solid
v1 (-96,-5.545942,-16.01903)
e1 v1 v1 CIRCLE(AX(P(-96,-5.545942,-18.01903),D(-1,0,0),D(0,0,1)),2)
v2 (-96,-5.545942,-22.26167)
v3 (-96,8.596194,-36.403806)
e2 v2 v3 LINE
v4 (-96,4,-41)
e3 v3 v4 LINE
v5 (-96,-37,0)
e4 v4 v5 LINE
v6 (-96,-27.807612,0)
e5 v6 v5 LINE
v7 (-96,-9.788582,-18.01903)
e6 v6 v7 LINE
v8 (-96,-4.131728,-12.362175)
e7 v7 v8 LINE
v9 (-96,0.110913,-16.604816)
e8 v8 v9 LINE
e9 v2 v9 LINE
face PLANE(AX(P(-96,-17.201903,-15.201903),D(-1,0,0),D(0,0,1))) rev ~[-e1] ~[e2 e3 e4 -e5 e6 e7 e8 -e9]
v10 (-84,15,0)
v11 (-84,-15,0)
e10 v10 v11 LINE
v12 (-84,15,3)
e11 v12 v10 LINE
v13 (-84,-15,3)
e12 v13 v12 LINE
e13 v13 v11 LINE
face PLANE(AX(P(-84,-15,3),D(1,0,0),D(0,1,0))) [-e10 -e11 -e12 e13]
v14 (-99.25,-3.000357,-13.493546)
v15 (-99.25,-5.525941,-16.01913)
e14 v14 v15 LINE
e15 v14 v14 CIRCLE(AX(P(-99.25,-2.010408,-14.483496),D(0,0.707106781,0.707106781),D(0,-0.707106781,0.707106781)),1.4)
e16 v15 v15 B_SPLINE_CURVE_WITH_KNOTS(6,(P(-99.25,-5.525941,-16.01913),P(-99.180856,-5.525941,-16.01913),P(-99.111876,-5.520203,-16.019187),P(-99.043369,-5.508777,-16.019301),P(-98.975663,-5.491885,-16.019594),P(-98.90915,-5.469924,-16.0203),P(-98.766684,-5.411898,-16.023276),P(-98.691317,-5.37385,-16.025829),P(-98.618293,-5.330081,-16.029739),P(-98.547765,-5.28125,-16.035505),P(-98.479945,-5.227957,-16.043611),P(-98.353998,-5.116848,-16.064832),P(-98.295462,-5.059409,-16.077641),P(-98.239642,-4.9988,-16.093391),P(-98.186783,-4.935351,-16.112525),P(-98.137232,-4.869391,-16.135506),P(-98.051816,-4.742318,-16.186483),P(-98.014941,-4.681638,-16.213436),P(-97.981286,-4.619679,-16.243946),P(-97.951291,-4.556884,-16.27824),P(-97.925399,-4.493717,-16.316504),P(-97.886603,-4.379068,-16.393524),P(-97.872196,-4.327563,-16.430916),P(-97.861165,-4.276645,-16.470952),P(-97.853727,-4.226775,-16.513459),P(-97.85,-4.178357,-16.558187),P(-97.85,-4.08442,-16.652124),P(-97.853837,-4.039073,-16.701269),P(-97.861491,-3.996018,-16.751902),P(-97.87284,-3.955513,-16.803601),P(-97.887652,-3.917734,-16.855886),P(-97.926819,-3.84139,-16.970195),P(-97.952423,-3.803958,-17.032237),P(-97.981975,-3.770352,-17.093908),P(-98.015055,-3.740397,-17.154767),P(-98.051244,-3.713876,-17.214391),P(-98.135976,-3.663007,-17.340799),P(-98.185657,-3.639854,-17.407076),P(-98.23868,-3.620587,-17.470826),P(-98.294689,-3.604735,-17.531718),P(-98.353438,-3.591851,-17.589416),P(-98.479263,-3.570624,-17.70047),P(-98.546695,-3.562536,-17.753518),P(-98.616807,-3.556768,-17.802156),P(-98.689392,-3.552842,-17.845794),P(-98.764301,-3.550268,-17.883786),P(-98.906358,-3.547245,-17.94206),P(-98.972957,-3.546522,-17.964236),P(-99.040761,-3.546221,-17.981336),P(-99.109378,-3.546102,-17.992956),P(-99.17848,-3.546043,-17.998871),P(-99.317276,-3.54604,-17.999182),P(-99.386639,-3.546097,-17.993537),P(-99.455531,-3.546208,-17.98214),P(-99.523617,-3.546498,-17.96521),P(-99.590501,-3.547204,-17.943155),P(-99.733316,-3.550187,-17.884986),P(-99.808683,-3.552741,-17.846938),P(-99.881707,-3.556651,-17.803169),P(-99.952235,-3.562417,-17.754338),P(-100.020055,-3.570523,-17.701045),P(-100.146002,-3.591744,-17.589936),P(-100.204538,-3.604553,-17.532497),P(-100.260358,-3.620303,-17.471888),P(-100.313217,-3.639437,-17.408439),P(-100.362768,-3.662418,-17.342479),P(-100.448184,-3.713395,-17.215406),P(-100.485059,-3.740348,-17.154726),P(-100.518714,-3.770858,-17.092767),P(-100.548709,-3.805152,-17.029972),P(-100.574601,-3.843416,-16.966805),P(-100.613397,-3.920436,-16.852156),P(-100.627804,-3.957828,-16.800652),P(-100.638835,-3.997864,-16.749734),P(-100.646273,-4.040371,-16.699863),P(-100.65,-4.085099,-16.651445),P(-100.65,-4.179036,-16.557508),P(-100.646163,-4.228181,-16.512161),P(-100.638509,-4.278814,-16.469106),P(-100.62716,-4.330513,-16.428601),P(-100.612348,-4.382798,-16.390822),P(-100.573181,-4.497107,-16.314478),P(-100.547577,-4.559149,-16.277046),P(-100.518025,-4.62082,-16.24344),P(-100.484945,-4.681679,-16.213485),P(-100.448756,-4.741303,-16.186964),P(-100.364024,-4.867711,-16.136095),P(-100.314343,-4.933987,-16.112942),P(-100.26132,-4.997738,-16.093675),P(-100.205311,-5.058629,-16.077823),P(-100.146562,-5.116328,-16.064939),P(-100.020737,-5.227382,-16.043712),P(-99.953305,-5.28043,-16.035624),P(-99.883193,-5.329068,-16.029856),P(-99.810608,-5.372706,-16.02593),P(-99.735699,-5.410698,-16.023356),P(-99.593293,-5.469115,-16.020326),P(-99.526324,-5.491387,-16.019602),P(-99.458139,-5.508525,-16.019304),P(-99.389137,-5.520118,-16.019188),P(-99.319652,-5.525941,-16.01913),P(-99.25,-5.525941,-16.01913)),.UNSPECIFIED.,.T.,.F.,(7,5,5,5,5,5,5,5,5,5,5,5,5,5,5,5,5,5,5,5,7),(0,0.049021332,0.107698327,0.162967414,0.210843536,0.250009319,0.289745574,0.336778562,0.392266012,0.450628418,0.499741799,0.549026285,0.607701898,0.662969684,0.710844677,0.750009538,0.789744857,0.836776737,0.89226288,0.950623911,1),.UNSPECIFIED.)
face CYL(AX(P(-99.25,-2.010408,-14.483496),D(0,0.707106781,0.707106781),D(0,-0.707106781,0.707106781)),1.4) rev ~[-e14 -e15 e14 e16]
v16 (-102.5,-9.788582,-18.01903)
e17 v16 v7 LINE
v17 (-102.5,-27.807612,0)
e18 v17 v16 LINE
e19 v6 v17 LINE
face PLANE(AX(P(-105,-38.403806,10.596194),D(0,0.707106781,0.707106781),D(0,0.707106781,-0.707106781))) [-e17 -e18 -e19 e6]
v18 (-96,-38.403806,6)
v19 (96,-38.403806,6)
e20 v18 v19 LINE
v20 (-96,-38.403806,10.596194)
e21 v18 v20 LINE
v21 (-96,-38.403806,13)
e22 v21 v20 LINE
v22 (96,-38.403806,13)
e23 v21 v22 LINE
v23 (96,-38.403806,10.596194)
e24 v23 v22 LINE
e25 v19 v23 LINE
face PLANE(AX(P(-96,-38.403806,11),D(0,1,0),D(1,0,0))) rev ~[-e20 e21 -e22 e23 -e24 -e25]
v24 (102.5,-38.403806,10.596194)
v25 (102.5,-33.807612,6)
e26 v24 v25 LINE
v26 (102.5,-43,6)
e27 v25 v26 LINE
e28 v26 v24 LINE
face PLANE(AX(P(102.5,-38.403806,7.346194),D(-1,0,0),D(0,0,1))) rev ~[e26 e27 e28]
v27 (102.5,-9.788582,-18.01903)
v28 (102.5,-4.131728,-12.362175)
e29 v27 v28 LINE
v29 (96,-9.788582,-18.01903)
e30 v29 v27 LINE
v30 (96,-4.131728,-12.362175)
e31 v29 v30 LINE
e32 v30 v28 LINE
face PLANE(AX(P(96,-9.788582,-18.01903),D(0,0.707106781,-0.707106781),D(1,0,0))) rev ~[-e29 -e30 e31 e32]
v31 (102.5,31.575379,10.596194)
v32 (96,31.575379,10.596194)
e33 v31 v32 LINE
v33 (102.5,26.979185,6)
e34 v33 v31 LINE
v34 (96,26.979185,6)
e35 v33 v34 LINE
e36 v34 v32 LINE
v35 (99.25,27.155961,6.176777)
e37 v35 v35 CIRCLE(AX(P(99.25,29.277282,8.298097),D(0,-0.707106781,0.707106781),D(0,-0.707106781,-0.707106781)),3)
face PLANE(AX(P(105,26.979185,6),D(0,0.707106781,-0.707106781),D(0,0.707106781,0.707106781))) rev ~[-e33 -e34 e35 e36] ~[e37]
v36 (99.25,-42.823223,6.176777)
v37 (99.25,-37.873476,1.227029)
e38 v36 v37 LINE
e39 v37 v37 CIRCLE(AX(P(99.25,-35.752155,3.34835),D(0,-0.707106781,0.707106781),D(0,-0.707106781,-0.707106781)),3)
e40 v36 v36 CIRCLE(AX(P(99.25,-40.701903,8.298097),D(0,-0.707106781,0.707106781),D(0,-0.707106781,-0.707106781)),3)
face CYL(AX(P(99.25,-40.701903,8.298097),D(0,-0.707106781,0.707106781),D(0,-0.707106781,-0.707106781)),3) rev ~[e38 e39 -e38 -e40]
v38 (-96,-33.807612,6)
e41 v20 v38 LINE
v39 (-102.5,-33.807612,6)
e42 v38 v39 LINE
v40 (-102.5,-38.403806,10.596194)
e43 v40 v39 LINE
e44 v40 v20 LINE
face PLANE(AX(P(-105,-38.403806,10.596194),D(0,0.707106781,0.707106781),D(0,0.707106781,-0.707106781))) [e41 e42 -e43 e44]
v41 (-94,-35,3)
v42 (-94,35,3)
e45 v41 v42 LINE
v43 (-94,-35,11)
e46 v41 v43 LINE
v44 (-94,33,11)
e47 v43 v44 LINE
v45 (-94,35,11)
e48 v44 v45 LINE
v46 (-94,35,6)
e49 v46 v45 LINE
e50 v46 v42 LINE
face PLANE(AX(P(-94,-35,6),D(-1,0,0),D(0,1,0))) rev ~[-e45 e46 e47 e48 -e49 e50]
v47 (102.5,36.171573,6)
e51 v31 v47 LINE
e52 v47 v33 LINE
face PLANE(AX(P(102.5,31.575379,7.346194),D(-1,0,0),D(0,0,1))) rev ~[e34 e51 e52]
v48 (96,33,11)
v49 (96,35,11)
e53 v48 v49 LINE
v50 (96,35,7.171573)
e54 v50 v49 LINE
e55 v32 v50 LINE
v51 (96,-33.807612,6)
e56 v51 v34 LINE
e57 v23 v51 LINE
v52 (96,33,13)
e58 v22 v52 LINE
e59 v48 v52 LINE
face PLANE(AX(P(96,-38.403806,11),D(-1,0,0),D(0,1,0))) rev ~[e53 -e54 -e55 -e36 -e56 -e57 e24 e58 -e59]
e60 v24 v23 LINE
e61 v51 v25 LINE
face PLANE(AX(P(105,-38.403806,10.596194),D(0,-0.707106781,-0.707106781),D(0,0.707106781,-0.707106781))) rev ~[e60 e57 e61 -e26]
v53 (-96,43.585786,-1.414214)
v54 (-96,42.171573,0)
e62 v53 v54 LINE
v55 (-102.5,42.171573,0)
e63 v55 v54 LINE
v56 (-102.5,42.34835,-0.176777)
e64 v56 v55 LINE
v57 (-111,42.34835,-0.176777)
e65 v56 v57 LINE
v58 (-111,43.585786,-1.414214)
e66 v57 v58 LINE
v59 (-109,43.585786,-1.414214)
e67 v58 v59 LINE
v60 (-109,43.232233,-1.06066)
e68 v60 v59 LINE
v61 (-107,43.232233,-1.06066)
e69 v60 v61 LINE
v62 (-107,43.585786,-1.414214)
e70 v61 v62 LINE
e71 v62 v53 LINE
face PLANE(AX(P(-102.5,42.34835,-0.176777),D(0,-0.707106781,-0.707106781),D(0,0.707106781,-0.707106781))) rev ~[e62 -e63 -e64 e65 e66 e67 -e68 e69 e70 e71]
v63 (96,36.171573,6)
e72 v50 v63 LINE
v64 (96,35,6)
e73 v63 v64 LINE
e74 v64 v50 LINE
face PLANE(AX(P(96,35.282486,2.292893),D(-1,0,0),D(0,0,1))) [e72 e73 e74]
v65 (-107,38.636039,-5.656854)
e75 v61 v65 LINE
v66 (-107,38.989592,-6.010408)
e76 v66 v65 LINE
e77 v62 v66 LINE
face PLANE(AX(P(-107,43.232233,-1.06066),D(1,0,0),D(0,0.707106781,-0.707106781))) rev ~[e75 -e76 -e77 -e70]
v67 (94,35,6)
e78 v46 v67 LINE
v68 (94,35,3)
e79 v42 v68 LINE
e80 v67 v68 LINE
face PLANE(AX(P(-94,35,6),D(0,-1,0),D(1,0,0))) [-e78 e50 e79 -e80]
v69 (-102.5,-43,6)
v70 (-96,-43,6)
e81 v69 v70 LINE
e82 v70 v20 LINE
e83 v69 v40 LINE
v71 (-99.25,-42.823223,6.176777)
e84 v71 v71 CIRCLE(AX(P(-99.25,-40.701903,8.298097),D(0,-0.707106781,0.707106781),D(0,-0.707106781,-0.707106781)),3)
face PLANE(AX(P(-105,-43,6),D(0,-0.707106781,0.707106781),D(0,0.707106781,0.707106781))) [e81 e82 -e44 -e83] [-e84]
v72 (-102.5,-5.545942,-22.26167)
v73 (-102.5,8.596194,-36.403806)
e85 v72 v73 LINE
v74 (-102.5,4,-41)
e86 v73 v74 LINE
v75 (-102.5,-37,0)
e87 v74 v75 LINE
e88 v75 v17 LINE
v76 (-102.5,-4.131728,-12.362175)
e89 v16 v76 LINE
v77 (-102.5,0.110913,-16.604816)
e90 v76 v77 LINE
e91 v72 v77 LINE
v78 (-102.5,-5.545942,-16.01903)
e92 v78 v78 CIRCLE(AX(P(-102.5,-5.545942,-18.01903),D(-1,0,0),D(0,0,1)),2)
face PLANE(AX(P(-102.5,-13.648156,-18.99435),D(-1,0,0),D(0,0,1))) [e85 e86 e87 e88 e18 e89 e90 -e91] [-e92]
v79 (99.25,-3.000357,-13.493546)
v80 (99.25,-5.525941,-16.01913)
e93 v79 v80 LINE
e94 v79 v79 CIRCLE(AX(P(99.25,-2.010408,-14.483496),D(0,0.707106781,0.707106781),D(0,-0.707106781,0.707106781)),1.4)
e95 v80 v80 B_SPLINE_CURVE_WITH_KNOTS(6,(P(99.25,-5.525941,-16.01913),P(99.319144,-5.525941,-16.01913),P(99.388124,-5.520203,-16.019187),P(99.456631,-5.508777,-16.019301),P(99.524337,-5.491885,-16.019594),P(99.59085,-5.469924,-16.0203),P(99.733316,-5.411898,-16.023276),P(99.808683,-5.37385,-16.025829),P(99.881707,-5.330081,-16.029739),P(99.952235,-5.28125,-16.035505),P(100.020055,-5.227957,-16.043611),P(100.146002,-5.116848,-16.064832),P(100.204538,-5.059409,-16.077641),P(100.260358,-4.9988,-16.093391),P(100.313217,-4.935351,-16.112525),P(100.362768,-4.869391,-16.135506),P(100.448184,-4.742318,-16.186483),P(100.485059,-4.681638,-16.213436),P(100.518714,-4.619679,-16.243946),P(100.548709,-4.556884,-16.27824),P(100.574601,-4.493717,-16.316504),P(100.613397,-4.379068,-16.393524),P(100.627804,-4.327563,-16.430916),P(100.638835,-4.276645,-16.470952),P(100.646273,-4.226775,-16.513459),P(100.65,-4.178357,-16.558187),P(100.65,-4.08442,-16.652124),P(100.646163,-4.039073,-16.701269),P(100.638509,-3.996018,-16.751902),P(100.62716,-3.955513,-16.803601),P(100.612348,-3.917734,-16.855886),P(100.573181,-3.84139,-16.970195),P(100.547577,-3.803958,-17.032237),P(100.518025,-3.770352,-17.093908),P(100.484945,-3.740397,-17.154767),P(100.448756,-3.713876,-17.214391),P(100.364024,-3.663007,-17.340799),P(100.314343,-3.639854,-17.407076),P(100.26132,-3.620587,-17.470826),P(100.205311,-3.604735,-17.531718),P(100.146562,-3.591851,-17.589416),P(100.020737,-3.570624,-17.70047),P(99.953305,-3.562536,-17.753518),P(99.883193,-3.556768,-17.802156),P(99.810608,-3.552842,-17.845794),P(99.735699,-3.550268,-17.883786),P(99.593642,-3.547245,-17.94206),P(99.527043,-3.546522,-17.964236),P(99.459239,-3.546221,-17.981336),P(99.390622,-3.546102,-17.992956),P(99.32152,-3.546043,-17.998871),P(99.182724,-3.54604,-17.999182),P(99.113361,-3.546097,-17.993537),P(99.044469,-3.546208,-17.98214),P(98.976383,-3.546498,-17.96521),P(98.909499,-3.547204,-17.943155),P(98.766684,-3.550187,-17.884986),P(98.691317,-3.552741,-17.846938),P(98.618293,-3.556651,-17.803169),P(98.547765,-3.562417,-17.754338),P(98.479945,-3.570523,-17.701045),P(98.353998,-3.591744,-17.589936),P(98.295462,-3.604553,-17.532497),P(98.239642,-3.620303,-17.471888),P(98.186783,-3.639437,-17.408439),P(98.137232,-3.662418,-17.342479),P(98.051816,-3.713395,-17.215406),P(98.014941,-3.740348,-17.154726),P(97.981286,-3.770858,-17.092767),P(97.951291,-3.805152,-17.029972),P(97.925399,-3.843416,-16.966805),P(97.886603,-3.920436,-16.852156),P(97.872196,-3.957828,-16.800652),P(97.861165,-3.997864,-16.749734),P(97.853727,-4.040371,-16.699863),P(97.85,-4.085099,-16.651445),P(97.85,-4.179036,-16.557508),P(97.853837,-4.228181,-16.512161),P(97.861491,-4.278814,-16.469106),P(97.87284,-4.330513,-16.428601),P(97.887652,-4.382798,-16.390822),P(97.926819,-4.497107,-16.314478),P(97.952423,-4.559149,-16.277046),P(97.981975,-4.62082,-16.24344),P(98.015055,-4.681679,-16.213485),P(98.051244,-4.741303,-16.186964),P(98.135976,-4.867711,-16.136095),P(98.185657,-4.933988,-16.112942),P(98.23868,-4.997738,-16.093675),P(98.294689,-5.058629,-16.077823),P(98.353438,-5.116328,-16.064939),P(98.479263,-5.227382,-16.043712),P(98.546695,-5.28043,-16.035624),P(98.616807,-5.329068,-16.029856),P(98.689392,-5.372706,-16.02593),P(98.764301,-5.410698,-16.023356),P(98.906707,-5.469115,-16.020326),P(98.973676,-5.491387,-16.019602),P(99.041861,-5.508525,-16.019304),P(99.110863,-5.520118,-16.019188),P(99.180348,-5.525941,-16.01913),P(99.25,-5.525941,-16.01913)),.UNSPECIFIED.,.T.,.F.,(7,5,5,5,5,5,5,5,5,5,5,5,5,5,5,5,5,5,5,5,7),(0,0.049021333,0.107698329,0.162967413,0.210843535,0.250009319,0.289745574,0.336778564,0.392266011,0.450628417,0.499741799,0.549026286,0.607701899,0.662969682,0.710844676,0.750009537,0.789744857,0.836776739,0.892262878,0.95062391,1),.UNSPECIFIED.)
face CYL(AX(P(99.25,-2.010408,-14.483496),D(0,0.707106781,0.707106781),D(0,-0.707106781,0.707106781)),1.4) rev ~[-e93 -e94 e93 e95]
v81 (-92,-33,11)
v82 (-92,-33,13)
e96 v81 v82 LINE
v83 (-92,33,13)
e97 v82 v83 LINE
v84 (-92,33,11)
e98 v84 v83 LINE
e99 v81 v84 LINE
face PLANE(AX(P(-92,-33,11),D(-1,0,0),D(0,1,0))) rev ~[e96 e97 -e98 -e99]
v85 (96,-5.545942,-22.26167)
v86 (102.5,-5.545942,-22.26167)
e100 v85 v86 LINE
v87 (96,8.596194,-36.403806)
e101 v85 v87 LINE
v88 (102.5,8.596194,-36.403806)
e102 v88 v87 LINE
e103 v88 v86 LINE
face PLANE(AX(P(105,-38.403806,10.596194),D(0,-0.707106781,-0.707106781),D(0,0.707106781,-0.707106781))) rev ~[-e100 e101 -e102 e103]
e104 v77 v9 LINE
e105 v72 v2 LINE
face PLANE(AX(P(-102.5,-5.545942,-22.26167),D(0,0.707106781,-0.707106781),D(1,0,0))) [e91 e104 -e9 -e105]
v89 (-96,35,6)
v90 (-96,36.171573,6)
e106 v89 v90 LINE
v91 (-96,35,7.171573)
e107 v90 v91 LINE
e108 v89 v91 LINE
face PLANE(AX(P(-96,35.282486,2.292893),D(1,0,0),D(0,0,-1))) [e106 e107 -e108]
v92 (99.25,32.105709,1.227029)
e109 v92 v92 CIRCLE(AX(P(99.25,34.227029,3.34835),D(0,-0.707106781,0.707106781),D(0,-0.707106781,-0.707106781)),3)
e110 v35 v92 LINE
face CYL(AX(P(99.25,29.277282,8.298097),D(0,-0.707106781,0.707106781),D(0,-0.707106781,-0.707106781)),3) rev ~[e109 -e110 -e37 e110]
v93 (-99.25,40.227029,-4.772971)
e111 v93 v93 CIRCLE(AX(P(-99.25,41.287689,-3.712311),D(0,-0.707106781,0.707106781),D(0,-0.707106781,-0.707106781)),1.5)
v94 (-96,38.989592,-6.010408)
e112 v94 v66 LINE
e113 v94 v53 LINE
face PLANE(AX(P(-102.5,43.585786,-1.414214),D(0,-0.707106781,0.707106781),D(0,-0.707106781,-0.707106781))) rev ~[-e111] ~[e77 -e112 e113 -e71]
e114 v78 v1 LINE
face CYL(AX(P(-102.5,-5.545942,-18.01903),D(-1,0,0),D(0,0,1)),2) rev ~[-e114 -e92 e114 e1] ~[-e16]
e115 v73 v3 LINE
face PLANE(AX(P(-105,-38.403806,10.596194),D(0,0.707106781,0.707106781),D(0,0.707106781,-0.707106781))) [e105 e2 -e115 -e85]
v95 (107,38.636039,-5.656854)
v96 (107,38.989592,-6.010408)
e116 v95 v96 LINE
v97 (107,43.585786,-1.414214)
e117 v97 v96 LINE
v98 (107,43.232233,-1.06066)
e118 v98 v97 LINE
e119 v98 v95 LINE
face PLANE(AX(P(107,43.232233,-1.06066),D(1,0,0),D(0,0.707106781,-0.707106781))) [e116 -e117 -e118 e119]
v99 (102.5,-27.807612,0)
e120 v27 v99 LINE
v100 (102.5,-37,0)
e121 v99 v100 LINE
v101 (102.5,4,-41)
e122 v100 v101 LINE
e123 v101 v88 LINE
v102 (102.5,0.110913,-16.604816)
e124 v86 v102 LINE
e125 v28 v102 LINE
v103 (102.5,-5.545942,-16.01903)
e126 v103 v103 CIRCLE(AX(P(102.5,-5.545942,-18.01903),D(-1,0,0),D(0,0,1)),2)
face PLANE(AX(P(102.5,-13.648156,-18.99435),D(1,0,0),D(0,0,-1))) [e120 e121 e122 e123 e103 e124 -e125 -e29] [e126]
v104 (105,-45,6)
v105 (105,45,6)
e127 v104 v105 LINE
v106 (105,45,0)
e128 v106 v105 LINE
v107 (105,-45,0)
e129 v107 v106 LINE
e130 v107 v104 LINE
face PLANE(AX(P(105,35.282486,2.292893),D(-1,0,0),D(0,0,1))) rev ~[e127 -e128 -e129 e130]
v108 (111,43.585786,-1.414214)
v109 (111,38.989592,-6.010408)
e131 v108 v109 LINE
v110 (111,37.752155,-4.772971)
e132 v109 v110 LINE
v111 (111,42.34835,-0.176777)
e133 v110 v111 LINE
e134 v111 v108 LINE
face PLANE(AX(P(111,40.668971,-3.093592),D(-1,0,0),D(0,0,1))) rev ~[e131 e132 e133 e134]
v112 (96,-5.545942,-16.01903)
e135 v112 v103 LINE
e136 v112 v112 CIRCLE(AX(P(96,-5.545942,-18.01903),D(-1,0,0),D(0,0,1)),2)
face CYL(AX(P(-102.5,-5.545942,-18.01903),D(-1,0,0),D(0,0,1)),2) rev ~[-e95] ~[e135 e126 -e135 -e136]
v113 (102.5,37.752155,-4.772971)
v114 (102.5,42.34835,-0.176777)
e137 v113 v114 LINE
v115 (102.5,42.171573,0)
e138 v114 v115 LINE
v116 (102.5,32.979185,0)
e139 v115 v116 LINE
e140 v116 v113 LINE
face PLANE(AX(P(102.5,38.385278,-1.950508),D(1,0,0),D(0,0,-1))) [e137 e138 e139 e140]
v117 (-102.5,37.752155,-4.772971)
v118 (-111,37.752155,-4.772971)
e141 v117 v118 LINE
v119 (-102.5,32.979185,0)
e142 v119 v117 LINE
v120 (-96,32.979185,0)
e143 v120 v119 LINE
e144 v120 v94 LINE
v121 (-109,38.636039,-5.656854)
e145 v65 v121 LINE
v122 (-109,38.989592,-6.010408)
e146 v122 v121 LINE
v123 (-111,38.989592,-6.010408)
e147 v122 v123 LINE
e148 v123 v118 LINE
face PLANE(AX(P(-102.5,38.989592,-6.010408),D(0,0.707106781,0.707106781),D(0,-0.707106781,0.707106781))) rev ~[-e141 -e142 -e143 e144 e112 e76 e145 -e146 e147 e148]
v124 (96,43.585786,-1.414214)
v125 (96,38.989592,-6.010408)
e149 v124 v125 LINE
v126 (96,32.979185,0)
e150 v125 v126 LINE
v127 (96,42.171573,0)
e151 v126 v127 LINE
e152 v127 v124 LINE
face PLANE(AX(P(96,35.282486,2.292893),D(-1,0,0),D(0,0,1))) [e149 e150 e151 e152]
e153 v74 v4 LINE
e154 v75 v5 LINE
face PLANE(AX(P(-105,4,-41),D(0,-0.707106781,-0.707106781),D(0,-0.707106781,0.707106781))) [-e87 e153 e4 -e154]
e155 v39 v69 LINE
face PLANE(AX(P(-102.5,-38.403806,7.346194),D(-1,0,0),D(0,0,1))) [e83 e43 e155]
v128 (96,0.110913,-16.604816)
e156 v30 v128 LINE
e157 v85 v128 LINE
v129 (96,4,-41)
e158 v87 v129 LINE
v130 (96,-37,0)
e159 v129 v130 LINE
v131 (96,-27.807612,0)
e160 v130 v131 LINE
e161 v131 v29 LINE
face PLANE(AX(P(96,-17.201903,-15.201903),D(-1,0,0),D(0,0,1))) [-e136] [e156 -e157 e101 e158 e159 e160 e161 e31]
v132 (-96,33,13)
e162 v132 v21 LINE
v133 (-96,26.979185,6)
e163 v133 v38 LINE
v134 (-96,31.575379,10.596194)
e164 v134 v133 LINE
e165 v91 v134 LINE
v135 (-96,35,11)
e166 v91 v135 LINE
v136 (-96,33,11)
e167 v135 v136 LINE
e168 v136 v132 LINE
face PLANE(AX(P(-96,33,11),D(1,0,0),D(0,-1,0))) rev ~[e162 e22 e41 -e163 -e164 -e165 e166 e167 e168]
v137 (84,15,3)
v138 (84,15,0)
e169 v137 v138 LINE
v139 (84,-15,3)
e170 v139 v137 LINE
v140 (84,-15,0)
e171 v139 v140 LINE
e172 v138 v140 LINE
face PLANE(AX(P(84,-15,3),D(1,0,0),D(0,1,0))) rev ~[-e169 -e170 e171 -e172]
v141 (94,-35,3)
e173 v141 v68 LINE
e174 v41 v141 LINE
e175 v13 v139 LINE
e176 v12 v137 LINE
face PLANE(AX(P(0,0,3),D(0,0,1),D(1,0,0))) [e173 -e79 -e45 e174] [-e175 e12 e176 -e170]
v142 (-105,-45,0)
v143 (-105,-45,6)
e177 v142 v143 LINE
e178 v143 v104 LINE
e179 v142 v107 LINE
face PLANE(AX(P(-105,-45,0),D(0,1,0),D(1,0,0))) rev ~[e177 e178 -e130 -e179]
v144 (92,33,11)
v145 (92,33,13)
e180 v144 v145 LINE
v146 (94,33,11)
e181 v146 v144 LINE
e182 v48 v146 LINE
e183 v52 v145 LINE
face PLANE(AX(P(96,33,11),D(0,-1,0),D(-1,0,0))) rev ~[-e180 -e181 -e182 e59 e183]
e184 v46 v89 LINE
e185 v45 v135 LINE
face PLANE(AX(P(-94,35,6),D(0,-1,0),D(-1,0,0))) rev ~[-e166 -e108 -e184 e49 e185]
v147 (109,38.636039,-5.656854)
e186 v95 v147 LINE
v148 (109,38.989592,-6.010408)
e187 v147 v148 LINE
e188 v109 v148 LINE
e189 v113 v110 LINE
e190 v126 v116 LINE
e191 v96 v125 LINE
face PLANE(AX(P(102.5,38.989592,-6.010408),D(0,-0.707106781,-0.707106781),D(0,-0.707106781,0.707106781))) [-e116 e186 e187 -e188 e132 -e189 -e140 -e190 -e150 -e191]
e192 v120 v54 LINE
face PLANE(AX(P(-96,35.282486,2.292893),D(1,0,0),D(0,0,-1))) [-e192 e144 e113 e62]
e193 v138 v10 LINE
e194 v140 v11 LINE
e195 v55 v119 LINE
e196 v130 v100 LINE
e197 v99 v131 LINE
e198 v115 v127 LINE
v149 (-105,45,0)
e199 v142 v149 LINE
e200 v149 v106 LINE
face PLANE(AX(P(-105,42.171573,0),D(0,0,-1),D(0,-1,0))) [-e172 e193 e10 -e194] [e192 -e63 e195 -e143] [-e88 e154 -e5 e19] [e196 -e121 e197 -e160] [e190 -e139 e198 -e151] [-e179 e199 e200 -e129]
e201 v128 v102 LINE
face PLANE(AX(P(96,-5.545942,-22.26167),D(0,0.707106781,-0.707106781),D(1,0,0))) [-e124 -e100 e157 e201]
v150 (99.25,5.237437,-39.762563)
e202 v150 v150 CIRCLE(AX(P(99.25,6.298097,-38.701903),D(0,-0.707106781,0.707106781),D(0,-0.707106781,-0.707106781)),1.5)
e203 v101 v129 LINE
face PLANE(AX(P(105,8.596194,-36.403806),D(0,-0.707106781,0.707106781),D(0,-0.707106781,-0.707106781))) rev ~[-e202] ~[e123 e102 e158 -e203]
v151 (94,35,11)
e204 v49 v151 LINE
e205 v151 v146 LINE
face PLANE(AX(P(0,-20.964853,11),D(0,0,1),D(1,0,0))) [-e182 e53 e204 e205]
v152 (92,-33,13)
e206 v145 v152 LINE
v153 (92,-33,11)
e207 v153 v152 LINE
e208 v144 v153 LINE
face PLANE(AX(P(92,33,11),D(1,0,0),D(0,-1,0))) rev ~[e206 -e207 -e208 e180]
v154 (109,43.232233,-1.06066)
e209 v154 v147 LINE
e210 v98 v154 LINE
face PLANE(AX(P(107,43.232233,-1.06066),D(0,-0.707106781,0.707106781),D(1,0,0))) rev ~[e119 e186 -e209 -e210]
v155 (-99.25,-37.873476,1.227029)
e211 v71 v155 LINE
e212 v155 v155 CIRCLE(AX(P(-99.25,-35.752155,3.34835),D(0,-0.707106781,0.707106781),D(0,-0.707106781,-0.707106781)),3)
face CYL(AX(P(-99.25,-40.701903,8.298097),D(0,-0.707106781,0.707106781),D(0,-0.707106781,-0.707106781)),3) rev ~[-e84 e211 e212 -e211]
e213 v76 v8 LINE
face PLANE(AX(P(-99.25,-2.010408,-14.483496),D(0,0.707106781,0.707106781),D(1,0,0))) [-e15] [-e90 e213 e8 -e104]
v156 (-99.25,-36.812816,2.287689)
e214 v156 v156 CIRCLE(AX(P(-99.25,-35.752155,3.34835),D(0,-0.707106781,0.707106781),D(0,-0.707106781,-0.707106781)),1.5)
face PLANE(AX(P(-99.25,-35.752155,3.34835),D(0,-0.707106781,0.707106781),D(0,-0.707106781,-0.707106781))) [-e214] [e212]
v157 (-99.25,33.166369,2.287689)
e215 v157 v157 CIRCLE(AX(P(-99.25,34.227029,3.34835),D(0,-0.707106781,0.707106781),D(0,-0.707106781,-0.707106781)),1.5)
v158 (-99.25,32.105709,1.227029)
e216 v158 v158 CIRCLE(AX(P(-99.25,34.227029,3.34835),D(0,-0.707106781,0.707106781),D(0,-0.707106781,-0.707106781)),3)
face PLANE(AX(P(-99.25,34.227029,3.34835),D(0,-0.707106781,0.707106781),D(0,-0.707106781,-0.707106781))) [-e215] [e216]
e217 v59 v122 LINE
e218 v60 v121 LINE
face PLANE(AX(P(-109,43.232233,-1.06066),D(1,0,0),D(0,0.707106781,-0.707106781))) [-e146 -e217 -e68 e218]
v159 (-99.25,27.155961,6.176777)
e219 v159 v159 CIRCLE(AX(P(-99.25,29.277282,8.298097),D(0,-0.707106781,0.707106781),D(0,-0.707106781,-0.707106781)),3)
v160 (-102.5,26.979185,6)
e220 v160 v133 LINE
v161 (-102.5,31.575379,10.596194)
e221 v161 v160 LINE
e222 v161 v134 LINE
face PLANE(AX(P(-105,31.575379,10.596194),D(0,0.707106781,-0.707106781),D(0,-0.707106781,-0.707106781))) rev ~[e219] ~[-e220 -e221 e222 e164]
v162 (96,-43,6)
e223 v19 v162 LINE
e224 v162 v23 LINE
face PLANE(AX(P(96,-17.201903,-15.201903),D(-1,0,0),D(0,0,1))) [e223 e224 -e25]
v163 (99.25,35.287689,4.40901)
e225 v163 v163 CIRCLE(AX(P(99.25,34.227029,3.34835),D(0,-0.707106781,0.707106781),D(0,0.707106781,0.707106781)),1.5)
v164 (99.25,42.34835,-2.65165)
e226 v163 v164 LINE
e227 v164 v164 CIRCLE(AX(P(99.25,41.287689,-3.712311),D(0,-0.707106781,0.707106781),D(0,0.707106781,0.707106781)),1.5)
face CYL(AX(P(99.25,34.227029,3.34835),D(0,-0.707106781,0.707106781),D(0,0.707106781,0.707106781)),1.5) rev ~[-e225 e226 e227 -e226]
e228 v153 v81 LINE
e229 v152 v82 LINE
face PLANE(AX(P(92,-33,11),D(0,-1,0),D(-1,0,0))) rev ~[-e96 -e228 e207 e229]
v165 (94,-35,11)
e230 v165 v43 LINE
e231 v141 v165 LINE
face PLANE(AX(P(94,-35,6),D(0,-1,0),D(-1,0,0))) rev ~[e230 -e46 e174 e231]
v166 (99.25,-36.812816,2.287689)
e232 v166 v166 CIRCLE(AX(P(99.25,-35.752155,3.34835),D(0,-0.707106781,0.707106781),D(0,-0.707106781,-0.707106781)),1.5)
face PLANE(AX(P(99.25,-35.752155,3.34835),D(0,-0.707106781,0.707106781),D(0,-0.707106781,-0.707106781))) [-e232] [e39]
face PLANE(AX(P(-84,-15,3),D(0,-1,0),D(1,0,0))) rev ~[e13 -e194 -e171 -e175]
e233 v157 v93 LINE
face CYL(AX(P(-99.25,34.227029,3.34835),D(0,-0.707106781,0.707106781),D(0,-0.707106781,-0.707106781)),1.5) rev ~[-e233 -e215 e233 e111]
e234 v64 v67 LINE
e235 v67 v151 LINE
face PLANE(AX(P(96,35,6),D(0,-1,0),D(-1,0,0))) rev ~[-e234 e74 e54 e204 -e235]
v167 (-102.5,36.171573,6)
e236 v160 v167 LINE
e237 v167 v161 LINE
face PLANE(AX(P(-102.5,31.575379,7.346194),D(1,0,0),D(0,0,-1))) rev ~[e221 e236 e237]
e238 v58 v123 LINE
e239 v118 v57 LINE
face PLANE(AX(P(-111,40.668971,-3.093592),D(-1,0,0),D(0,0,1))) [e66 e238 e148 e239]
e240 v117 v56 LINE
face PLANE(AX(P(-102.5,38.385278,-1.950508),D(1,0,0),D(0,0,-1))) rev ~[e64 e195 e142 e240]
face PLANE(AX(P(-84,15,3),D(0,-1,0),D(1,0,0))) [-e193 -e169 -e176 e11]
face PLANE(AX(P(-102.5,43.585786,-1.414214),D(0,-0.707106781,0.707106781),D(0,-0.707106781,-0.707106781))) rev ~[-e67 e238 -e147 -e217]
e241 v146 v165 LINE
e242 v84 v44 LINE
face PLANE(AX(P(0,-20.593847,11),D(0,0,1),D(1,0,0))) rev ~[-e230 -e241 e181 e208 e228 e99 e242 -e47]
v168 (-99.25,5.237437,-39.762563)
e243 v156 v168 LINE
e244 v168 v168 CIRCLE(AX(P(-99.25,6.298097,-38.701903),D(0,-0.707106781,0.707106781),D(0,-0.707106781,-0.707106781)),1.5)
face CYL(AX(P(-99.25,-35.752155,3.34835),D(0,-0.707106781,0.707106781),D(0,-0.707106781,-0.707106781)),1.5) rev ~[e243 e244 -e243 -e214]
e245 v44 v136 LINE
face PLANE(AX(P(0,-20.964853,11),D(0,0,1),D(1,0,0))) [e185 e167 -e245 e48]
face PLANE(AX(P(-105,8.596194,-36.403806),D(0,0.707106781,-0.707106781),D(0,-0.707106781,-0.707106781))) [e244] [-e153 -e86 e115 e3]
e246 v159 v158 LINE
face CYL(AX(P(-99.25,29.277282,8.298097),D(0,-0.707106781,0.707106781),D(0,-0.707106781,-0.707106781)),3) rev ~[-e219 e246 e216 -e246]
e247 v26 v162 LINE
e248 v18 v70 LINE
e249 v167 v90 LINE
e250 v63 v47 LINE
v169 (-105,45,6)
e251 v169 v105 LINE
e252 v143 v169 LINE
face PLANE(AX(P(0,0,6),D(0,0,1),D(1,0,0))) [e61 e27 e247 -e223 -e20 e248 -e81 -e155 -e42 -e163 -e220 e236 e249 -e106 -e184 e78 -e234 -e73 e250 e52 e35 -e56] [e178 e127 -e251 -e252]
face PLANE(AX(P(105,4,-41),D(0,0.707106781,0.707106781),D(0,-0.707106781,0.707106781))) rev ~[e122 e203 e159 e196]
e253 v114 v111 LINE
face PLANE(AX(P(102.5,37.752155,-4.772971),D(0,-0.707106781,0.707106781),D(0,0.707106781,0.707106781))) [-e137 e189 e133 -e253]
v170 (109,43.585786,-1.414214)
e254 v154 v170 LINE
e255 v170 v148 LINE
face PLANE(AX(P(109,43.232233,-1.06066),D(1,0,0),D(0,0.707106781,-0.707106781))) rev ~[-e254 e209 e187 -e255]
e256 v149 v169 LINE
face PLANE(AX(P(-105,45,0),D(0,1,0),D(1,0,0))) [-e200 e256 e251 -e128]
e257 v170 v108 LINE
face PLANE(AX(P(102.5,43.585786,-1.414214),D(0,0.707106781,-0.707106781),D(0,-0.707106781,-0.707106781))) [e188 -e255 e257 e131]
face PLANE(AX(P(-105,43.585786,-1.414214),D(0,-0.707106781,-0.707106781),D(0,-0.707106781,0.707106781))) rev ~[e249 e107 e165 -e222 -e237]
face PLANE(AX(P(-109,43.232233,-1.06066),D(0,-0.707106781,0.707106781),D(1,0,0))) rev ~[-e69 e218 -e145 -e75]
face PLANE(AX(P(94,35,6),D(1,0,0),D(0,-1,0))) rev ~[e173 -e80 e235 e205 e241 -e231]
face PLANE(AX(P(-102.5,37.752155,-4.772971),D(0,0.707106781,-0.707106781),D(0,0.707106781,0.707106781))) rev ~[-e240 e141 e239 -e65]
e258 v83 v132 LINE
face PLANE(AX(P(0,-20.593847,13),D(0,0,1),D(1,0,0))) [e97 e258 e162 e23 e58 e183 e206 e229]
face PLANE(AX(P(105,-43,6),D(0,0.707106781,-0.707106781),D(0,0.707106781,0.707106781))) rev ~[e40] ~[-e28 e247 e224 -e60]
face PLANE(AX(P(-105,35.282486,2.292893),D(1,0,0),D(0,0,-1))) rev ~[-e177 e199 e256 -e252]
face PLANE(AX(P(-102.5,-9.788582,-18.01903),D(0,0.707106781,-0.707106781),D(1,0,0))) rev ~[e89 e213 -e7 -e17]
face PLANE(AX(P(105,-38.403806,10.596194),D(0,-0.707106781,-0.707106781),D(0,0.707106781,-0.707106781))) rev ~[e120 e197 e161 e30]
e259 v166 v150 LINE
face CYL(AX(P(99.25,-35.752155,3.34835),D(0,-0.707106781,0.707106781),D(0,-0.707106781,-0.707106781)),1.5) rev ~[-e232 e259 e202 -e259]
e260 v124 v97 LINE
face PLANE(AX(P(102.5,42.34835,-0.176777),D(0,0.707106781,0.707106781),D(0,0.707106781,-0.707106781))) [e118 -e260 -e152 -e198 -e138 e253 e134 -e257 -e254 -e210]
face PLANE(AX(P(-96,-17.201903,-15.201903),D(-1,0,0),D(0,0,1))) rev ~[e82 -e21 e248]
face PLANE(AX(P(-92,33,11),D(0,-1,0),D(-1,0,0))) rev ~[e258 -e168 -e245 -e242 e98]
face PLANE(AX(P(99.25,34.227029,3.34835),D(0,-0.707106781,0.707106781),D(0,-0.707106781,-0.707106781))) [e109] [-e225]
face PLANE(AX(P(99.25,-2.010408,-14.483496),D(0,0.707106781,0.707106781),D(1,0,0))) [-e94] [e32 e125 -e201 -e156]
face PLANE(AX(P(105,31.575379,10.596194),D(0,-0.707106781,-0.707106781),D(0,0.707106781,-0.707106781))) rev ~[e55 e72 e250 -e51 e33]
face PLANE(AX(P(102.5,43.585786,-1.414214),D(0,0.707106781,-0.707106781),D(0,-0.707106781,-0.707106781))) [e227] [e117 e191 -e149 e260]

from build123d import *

# Parameters (mm, degrees)
SKETCH2_W                       = 210
SKETCH2_H                       = 90
BOSS_EXTRUDE1_DEPTH             = 6
SKETCH3_W                       = 188
SKETCH3_H                       = 70
CUT_EXTRUDE1_DEPTH              = 3
CUT_EXTRUDE2_REACH              = 116.276
SKETCH4_W                       = 168
SKETCH4_H                       = 30
BOSS_EXTRUDE2_DEPTH             = 9
CUT_EXTRUDE3_DEPTH              = 2.5
SKETCH9_R                       = 3
CUT_EXTRUDE5_DEPTH              = 7
CUT_EXTRUDE7_DEPTH              = 2.5
CUT_EXTRUDE9_REACH              = 125.918
SKETCH14_R                      = 1.5
SKETCH15_R                      = 3
CUT_EXTRUDE10_DEPTH             = 7
CUT_EXTRUDE12_REACH             = 139.325
SKETCH17_R                      = 1.5
BOSS_EXTRUDE3_DEPTH             = 9
SKETCH19_R                      = 3
CUT_EXTRUDE13_DEPTH             = 7
SKETCH20_R                      = 3
CUT_EXTRUDE14_DEPTH             = 7
CUT_EXTRUDE15_DEPTH             = 2.5
CUT_EXTRUDE16_REACH             = 125.918
SKETCH22_R                      = 1.5
CUT_EXTRUDE16_DIRECTION_2_DEPTH = 124.918371619
CUT_EXTRUDE17_REACH             = 139.325
SKETCH23_R                      = 1.5
CUT_EXTRUDE18_DEPTH             = 2.5
SKETCH25_W                      = 6.5
SKETCH25_H                      = 6
BOSS_EXTRUDE4_DEPTH             = 8
SKETCH26_R                      = 1.4
CUT_EXTRUDE19_DEPTH             = 4
SKETCH27_R                      = 2
CUT_EXTRUDE20_DEPTH             = 217.245809208
BOSS_EXTRUDE6_DEPTH             = 8.5
CUT_EXTRUDE21_REACH             = 145.328
SKETCH29_W                      = 2
SKETCH29_H                      = 0.5
BOSS_EXTRUDE7_DEPTH             = 8.5
CUT_EXTRUDE22_REACH             = 145.328
SKETCH31_W                      = 2
SKETCH31_H                      = 0.5
BOSS_EXTRUDE8_DEPTH             = 5
BOSS_EXTRUDE9_DEPTH             = 2


with BuildPart() as part:
    # Sketch2 → Boss-Extrude1 (new body)
    with BuildSketch(Plane.XY):
        Rectangle(SKETCH2_W, SKETCH2_H)
    extrude(amount=BOSS_EXTRUDE1_DEPTH)

    # Sketch3 → Cut-Extrude1 (cut)
    with BuildSketch(Plane.XY.offset(6)):
        Rectangle(SKETCH3_W, SKETCH3_H)
    extrude(amount=-CUT_EXTRUDE1_DEPTH, mode=Mode.SUBTRACT)

    # Sketch4 → Cut-Extrude2 (cut, up to next)
    with BuildSketch(Plane.XY.offset(3), mode=Mode.PRIVATE) as cut_extrude2_sk1:
        Rectangle(SKETCH4_W, SKETCH4_H)
    cut_extrude2_tool1 = extrude(cut_extrude2_sk1.sketch, amount=-CUT_EXTRUDE2_REACH, mode=Mode.PRIVATE) & part.part
    add(cut_extrude2_tool1.solids().sort_by_distance((0, 0, 3))[0], mode=Mode.SUBTRACT)

    # Sketch7 → Boss-Extrude2 (add)
    with BuildSketch(Plane.ZY.offset(105)):
        Polygon((-6.01040764, 38.98959236), (-1.414213562, 43.585786438), (10.596194078, 31.575378798), (6, 26.97918472), align=None)
        Polygon((-41, 4), (6, -43), (10.596194078, -38.403805922), (-36.403805922, 8.596194078), align=None)
    extrude(amount=-BOSS_EXTRUDE2_DEPTH)

    # Sketch8 → Cut-Extrude3 (cut)
    with BuildSketch(Plane.ZY.offset(105)):
        Polygon((6, 36.171572875), (10.596194078, 31.575378798), (6, 26.97918472), align=None)
        Polygon((6, -33.807611845), (6, -43), (10.596194078, -38.403805922), align=None)
    extrude(amount=-CUT_EXTRUDE3_DEPTH, mode=Mode.SUBTRACT)

    # Sketch9 → Cut-Extrude5 (cut)
    with BuildSketch(Plane(origin=(0, 10.48959236, -10.48959236), x_dir=(1, 0, 0), z_dir=(0, -0.7071067811865437, 0.7071067811865515))):
        with Locations(Location((-99.25, 26.569805153, 0), (0, 0, 270))):
            Circle(SKETCH9_R)
    extrude(amount=-CUT_EXTRUDE5_DEPTH, mode=Mode.SUBTRACT)

    # Sketch11 → Cut-Extrude7 (cut)
    with BuildSketch(Plane.ZY.offset(105)):
        Polygon((-1.414213562, 43.585786438), (0, 42.171572875), (0, 32.97918472), (-6.01040764, 38.98959236), align=None)
        Polygon((-36.403805922, 8.596194078), (-41, 4), (0, -37), (0, -27.807611845), align=None)
    extrude(amount=-CUT_EXTRUDE7_DEPTH, mode=Mode.SUBTRACT)

    # Sketch14 → Cut-Extrude9 (cut, up to next)
    with BuildSketch(Plane(origin=(0, 15.439339828, -15.439339828), x_dir=(1, 0, 0), z_dir=(0, -0.7071067811865437, 0.7071067811865515)), mode=Mode.PRIVATE) as cut_extrude9_sk1:
        with Locations(Location((-99.25, 26.569805153, 0), (0, 0, 270))):
            Circle(SKETCH14_R)
    cut_extrude9_tool1 = extrude(cut_extrude9_sk1.sketch, amount=-CUT_EXTRUDE9_REACH, mode=Mode.PRIVATE) & part.part
    add(cut_extrude9_tool1.solids().sort_by_distance((-99.25, 34.227029, 3.34835))[0], mode=Mode.SUBTRACT)

    # Sketch15 → Cut-Extrude10 (cut)
    with BuildSketch(Plane(origin=(0, -24.5, 24.5), x_dir=(1, 0, 0), z_dir=(0, -0.707106781186551, 0.7071067811865441))):
        with Locations(Location((-99.25, -22.912950904, 0), (0, 0, 270))):
            Circle(SKETCH15_R)
    extrude(amount=-CUT_EXTRUDE10_DEPTH, mode=Mode.SUBTRACT)

    # Sketch17 → Cut-Extrude12 (cut, up to next)
    with BuildSketch(Plane(origin=(0, -19.550252532, 19.550252532), x_dir=(1, 0, 0), z_dir=(0, -0.7071067811865509, 0.7071067811865442)), mode=Mode.PRIVATE) as cut_extrude12_sk1:
        with Locations(Location((-99.25, -22.912950904, 0), (0, 0, 270))):
            Circle(SKETCH17_R)
    cut_extrude12_tool1 = extrude(cut_extrude12_sk1.sketch, amount=-CUT_EXTRUDE12_REACH, mode=Mode.PRIVATE) & part.part
    add(cut_extrude12_tool1.solids().sort_by_distance((-99.25, -35.752155, 3.34835))[0], mode=Mode.SUBTRACT)

    # Sketch18 → Boss-Extrude3 (add)
    with BuildSketch(Plane(origin=(105, 0, 0), x_dir=(0, 0, -1), z_dir=(1, 0, 0))):
        Polygon((-10.596194078, 31.575378798), (1.414213562, 43.585786438), (6.01040764, 38.98959236), (-6, 26.97918472), align=None)
        Polygon((-10.596194078, -38.403805922), (36.403805922, 8.596194078), (41, 4), (-6, -43), align=None)
    extrude(amount=-BOSS_EXTRUDE3_DEPTH)

    # Sketch19 → Cut-Extrude13 (cut)
    with BuildSketch(Plane(origin=(0, 10.48959236, -10.48959236), x_dir=(1, 0, 0), z_dir=(0, -0.7071067811865444, 0.7071067811865508))):
        with Locations(Location((99.25, 26.569805153, 0), (0, 0, 270))):
            Circle(SKETCH19_R)
    extrude(amount=-CUT_EXTRUDE13_DEPTH, mode=Mode.SUBTRACT)

    # Sketch20 → Cut-Extrude14 (cut)
    with BuildSketch(Plane(origin=(0, -24.5, 24.5), x_dir=(1, 0, 0), z_dir=(0, -0.707106781186551, 0.7071067811865441))):
        with Locations(Location((99.25, -22.912950904, 0), (0, 0, 270))):
            Circle(SKETCH20_R)
    extrude(amount=-CUT_EXTRUDE14_DEPTH, mode=Mode.SUBTRACT)

    # Sketch21 → Cut-Extrude15 (cut)
    with BuildSketch(Plane(origin=(105, 0, 0), x_dir=(0, 0, -1), z_dir=(1, 0, 0))):
        Polygon((-10.596194078, -38.403805922), (-6, -33.807611845), (-6, -43), align=None)
        Polygon((-6, 36.171572875), (-6, 26.97918472), (-10.596194078, 31.575378798), align=None)
    extrude(amount=-CUT_EXTRUDE15_DEPTH, mode=Mode.SUBTRACT)

    # Sketch22 → Cut-Extrude16 (cut, up to next)
    with BuildSketch(Plane(origin=(0, 15.439339828, -15.439339828), x_dir=(1, 0, 0), z_dir=(0, -0.7071067811865445, 0.7071067811865507)), mode=Mode.PRIVATE) as cut_extrude16_sk1:
        with Locations(Location((99.25, 26.569805153, 0), (0, 0, 90))):
            Circle(SKETCH22_R)
    cut_extrude16_tool1 = extrude(cut_extrude16_sk1.sketch, amount=-CUT_EXTRUDE16_REACH, mode=Mode.PRIVATE) & part.part
    add(cut_extrude16_tool1.solids().sort_by_distance((99.25, 34.227029, 3.34835))[0], mode=Mode.SUBTRACT)

    # Sketch22 → Cut-Extrude16 direction 2 (cut)
    with BuildSketch(Plane(origin=(0, 15.439339828, -15.439339828), x_dir=(1, 0, 0), z_dir=(0, -0.7071067811865445, 0.7071067811865507))):
        with Locations(Location((99.25, 26.569805153, 0), (0, 0, 90))):
            Circle(SKETCH22_R)
    extrude(amount=CUT_EXTRUDE16_DIRECTION_2_DEPTH, mode=Mode.SUBTRACT)

    # Sketch23 → Cut-Extrude17 (cut, up to next)
    with BuildSketch(Plane(origin=(0, -19.550252532, 19.550252532), x_dir=(1, 0, 0), z_dir=(0, -0.7071067811865509, 0.7071067811865442)), mode=Mode.PRIVATE) as cut_extrude17_sk1:
        with Locations(Location((99.25, -22.912950904, 0), (0, 0, 270))):
            Circle(SKETCH23_R)
    cut_extrude17_tool1 = extrude(cut_extrude17_sk1.sketch, amount=-CUT_EXTRUDE17_REACH, mode=Mode.PRIVATE) & part.part
    add(cut_extrude17_tool1.solids().sort_by_distance((99.25, -35.752155, 3.34835))[0], mode=Mode.SUBTRACT)

    # Sketch24 → Cut-Extrude18 (cut)
    with BuildSketch(Plane(origin=(105, 0, 0), x_dir=(0, 0, -1), z_dir=(1, 0, 0))):
        Polygon((1.414213562, 43.585786438), (0, 42.171572875), (0, 32.97918472), (6.01040764, 38.98959236), align=None)
        Polygon((0, -27.807611845), (0, -37), (41, 4), (36.403805922, 8.596194078), align=None)
    extrude(amount=-CUT_EXTRUDE18_DEPTH, mode=Mode.SUBTRACT)

    # Sketch25 → Boss-Extrude4 (add)
    with BuildSketch(Plane(origin=(0, -13.903805922, -13.903805922), x_dir=(1, 0, 0), z_dir=(0, 0.7071067811865439, 0.7071067811865511))):
        with Locations((-99.25, 8.819805153)):
            Rectangle(SKETCH25_W, SKETCH25_H)
        with Locations((99.25, 8.819805153)):
            Rectangle(SKETCH25_W, SKETCH25_H)
    extrude(amount=BOSS_EXTRUDE4_DEPTH)

    # Sketch26 → Cut-Extrude19 (cut)
    with BuildSketch(Plane(origin=(0, -8.246951673, -8.246951673), x_dir=(1, 0, 0), z_dir=(0, 0.7071067811865438, 0.7071067811865512))):
        with Locations(Location((99.25, 8.819805153, 0), (0, 0, 270))):
            Circle(SKETCH26_R)
        with Locations(Location((-99.25, 8.819805153, 0), (0, 0, 270))):
            Circle(SKETCH26_R)
    extrude(amount=-CUT_EXTRUDE19_DEPTH, mode=Mode.SUBTRACT)

    # Sketch27 → Cut-Extrude20 (cut, through all)
    with BuildSketch(Plane.ZY.offset(102.5)):
        with Locations((-18.019029611, -5.545941546)):
            Circle(SKETCH27_R)
    extrude(amount=-CUT_EXTRUDE20_DEPTH, mode=Mode.SUBTRACT)

    # Sketch28 → Boss-Extrude6 (add)
    with BuildSketch(Plane(origin=(102.5, 0, 0), x_dir=(0, 0, -1), z_dir=(1, 0, 0))):
        Polygon((1.414213562, 43.585786438), (6.01040764, 38.98959236), (4.772970773, 37.752155493), (0.176776695, 42.348349571), align=None)
    extrude(amount=BOSS_EXTRUDE6_DEPTH)

    # Sketch29 → Cut-Extrude21 (cut, up to next)
    with BuildSketch(Plane(origin=(0, 21.085786438, 21.085786438), x_dir=(1, 0, 0), z_dir=(0, 0.7071067811865506, 0.7071067811865446)), mode=Mode.PRIVATE) as cut_extrude21_sk1:
        with Locations((108, 31.569805153)):
            Rectangle(SKETCH29_W, SKETCH29_H)
    cut_extrude21_tool1 = extrude(cut_extrude21_sk1.sketch, amount=-CUT_EXTRUDE21_REACH, mode=Mode.PRIVATE) & part.part
    add(cut_extrude21_tool1.solids().sort_by_distance((108, 43.40901, -1.237437))[0], mode=Mode.SUBTRACT)

    # Sketch30 → Boss-Extrude7 (add)
    with BuildSketch(Plane.ZY.offset(102.5)):
        Polygon((-1.414213562, 43.585786438), (-6.01040764, 38.98959236), (-4.772970773, 37.752155493), (-0.176776695, 42.348349571), align=None)
    extrude(amount=BOSS_EXTRUDE7_DEPTH)

    # Sketch31 → Cut-Extrude22 (cut, up to next)
    with BuildSketch(Plane(origin=(0, 21.085786438, 21.085786438), x_dir=(1, 0, 0), z_dir=(0, 0.7071067811865506, 0.7071067811865446)), mode=Mode.PRIVATE) as cut_extrude22_sk1:
        with Locations((-108, 31.569805153)):
            Rectangle(SKETCH31_W, SKETCH31_H)
    cut_extrude22_tool1 = extrude(cut_extrude22_sk1.sketch, amount=-CUT_EXTRUDE22_REACH, mode=Mode.PRIVATE) & part.part
    add(cut_extrude22_tool1.solids().sort_by_distance((-108, 43.40901, -1.237437))[0], mode=Mode.SUBTRACT)

    # Sketch32 → Boss-Extrude8 (add)
    with BuildSketch(Plane.XY.offset(6)):
        Polygon((-96, -38.403805922), (96, -38.403805922), (96, 35), (94, 35), (94, -35), (-94, -35), (-94, 35), (-96, 35), align=None)
    extrude(amount=BOSS_EXTRUDE8_DEPTH)

    # Sketch33 → Boss-Extrude9 (add)
    with BuildSketch(Plane.XY.offset(11)):
        Polygon((-96, -38.403805922), (96, -38.403805922), (96, 33), (92, 33), (92, -33), (-92, -33), (-92, 33), (-96, 33), align=None)
    extrude(amount=BOSS_EXTRUDE9_DEPTH)


solid = part.part
